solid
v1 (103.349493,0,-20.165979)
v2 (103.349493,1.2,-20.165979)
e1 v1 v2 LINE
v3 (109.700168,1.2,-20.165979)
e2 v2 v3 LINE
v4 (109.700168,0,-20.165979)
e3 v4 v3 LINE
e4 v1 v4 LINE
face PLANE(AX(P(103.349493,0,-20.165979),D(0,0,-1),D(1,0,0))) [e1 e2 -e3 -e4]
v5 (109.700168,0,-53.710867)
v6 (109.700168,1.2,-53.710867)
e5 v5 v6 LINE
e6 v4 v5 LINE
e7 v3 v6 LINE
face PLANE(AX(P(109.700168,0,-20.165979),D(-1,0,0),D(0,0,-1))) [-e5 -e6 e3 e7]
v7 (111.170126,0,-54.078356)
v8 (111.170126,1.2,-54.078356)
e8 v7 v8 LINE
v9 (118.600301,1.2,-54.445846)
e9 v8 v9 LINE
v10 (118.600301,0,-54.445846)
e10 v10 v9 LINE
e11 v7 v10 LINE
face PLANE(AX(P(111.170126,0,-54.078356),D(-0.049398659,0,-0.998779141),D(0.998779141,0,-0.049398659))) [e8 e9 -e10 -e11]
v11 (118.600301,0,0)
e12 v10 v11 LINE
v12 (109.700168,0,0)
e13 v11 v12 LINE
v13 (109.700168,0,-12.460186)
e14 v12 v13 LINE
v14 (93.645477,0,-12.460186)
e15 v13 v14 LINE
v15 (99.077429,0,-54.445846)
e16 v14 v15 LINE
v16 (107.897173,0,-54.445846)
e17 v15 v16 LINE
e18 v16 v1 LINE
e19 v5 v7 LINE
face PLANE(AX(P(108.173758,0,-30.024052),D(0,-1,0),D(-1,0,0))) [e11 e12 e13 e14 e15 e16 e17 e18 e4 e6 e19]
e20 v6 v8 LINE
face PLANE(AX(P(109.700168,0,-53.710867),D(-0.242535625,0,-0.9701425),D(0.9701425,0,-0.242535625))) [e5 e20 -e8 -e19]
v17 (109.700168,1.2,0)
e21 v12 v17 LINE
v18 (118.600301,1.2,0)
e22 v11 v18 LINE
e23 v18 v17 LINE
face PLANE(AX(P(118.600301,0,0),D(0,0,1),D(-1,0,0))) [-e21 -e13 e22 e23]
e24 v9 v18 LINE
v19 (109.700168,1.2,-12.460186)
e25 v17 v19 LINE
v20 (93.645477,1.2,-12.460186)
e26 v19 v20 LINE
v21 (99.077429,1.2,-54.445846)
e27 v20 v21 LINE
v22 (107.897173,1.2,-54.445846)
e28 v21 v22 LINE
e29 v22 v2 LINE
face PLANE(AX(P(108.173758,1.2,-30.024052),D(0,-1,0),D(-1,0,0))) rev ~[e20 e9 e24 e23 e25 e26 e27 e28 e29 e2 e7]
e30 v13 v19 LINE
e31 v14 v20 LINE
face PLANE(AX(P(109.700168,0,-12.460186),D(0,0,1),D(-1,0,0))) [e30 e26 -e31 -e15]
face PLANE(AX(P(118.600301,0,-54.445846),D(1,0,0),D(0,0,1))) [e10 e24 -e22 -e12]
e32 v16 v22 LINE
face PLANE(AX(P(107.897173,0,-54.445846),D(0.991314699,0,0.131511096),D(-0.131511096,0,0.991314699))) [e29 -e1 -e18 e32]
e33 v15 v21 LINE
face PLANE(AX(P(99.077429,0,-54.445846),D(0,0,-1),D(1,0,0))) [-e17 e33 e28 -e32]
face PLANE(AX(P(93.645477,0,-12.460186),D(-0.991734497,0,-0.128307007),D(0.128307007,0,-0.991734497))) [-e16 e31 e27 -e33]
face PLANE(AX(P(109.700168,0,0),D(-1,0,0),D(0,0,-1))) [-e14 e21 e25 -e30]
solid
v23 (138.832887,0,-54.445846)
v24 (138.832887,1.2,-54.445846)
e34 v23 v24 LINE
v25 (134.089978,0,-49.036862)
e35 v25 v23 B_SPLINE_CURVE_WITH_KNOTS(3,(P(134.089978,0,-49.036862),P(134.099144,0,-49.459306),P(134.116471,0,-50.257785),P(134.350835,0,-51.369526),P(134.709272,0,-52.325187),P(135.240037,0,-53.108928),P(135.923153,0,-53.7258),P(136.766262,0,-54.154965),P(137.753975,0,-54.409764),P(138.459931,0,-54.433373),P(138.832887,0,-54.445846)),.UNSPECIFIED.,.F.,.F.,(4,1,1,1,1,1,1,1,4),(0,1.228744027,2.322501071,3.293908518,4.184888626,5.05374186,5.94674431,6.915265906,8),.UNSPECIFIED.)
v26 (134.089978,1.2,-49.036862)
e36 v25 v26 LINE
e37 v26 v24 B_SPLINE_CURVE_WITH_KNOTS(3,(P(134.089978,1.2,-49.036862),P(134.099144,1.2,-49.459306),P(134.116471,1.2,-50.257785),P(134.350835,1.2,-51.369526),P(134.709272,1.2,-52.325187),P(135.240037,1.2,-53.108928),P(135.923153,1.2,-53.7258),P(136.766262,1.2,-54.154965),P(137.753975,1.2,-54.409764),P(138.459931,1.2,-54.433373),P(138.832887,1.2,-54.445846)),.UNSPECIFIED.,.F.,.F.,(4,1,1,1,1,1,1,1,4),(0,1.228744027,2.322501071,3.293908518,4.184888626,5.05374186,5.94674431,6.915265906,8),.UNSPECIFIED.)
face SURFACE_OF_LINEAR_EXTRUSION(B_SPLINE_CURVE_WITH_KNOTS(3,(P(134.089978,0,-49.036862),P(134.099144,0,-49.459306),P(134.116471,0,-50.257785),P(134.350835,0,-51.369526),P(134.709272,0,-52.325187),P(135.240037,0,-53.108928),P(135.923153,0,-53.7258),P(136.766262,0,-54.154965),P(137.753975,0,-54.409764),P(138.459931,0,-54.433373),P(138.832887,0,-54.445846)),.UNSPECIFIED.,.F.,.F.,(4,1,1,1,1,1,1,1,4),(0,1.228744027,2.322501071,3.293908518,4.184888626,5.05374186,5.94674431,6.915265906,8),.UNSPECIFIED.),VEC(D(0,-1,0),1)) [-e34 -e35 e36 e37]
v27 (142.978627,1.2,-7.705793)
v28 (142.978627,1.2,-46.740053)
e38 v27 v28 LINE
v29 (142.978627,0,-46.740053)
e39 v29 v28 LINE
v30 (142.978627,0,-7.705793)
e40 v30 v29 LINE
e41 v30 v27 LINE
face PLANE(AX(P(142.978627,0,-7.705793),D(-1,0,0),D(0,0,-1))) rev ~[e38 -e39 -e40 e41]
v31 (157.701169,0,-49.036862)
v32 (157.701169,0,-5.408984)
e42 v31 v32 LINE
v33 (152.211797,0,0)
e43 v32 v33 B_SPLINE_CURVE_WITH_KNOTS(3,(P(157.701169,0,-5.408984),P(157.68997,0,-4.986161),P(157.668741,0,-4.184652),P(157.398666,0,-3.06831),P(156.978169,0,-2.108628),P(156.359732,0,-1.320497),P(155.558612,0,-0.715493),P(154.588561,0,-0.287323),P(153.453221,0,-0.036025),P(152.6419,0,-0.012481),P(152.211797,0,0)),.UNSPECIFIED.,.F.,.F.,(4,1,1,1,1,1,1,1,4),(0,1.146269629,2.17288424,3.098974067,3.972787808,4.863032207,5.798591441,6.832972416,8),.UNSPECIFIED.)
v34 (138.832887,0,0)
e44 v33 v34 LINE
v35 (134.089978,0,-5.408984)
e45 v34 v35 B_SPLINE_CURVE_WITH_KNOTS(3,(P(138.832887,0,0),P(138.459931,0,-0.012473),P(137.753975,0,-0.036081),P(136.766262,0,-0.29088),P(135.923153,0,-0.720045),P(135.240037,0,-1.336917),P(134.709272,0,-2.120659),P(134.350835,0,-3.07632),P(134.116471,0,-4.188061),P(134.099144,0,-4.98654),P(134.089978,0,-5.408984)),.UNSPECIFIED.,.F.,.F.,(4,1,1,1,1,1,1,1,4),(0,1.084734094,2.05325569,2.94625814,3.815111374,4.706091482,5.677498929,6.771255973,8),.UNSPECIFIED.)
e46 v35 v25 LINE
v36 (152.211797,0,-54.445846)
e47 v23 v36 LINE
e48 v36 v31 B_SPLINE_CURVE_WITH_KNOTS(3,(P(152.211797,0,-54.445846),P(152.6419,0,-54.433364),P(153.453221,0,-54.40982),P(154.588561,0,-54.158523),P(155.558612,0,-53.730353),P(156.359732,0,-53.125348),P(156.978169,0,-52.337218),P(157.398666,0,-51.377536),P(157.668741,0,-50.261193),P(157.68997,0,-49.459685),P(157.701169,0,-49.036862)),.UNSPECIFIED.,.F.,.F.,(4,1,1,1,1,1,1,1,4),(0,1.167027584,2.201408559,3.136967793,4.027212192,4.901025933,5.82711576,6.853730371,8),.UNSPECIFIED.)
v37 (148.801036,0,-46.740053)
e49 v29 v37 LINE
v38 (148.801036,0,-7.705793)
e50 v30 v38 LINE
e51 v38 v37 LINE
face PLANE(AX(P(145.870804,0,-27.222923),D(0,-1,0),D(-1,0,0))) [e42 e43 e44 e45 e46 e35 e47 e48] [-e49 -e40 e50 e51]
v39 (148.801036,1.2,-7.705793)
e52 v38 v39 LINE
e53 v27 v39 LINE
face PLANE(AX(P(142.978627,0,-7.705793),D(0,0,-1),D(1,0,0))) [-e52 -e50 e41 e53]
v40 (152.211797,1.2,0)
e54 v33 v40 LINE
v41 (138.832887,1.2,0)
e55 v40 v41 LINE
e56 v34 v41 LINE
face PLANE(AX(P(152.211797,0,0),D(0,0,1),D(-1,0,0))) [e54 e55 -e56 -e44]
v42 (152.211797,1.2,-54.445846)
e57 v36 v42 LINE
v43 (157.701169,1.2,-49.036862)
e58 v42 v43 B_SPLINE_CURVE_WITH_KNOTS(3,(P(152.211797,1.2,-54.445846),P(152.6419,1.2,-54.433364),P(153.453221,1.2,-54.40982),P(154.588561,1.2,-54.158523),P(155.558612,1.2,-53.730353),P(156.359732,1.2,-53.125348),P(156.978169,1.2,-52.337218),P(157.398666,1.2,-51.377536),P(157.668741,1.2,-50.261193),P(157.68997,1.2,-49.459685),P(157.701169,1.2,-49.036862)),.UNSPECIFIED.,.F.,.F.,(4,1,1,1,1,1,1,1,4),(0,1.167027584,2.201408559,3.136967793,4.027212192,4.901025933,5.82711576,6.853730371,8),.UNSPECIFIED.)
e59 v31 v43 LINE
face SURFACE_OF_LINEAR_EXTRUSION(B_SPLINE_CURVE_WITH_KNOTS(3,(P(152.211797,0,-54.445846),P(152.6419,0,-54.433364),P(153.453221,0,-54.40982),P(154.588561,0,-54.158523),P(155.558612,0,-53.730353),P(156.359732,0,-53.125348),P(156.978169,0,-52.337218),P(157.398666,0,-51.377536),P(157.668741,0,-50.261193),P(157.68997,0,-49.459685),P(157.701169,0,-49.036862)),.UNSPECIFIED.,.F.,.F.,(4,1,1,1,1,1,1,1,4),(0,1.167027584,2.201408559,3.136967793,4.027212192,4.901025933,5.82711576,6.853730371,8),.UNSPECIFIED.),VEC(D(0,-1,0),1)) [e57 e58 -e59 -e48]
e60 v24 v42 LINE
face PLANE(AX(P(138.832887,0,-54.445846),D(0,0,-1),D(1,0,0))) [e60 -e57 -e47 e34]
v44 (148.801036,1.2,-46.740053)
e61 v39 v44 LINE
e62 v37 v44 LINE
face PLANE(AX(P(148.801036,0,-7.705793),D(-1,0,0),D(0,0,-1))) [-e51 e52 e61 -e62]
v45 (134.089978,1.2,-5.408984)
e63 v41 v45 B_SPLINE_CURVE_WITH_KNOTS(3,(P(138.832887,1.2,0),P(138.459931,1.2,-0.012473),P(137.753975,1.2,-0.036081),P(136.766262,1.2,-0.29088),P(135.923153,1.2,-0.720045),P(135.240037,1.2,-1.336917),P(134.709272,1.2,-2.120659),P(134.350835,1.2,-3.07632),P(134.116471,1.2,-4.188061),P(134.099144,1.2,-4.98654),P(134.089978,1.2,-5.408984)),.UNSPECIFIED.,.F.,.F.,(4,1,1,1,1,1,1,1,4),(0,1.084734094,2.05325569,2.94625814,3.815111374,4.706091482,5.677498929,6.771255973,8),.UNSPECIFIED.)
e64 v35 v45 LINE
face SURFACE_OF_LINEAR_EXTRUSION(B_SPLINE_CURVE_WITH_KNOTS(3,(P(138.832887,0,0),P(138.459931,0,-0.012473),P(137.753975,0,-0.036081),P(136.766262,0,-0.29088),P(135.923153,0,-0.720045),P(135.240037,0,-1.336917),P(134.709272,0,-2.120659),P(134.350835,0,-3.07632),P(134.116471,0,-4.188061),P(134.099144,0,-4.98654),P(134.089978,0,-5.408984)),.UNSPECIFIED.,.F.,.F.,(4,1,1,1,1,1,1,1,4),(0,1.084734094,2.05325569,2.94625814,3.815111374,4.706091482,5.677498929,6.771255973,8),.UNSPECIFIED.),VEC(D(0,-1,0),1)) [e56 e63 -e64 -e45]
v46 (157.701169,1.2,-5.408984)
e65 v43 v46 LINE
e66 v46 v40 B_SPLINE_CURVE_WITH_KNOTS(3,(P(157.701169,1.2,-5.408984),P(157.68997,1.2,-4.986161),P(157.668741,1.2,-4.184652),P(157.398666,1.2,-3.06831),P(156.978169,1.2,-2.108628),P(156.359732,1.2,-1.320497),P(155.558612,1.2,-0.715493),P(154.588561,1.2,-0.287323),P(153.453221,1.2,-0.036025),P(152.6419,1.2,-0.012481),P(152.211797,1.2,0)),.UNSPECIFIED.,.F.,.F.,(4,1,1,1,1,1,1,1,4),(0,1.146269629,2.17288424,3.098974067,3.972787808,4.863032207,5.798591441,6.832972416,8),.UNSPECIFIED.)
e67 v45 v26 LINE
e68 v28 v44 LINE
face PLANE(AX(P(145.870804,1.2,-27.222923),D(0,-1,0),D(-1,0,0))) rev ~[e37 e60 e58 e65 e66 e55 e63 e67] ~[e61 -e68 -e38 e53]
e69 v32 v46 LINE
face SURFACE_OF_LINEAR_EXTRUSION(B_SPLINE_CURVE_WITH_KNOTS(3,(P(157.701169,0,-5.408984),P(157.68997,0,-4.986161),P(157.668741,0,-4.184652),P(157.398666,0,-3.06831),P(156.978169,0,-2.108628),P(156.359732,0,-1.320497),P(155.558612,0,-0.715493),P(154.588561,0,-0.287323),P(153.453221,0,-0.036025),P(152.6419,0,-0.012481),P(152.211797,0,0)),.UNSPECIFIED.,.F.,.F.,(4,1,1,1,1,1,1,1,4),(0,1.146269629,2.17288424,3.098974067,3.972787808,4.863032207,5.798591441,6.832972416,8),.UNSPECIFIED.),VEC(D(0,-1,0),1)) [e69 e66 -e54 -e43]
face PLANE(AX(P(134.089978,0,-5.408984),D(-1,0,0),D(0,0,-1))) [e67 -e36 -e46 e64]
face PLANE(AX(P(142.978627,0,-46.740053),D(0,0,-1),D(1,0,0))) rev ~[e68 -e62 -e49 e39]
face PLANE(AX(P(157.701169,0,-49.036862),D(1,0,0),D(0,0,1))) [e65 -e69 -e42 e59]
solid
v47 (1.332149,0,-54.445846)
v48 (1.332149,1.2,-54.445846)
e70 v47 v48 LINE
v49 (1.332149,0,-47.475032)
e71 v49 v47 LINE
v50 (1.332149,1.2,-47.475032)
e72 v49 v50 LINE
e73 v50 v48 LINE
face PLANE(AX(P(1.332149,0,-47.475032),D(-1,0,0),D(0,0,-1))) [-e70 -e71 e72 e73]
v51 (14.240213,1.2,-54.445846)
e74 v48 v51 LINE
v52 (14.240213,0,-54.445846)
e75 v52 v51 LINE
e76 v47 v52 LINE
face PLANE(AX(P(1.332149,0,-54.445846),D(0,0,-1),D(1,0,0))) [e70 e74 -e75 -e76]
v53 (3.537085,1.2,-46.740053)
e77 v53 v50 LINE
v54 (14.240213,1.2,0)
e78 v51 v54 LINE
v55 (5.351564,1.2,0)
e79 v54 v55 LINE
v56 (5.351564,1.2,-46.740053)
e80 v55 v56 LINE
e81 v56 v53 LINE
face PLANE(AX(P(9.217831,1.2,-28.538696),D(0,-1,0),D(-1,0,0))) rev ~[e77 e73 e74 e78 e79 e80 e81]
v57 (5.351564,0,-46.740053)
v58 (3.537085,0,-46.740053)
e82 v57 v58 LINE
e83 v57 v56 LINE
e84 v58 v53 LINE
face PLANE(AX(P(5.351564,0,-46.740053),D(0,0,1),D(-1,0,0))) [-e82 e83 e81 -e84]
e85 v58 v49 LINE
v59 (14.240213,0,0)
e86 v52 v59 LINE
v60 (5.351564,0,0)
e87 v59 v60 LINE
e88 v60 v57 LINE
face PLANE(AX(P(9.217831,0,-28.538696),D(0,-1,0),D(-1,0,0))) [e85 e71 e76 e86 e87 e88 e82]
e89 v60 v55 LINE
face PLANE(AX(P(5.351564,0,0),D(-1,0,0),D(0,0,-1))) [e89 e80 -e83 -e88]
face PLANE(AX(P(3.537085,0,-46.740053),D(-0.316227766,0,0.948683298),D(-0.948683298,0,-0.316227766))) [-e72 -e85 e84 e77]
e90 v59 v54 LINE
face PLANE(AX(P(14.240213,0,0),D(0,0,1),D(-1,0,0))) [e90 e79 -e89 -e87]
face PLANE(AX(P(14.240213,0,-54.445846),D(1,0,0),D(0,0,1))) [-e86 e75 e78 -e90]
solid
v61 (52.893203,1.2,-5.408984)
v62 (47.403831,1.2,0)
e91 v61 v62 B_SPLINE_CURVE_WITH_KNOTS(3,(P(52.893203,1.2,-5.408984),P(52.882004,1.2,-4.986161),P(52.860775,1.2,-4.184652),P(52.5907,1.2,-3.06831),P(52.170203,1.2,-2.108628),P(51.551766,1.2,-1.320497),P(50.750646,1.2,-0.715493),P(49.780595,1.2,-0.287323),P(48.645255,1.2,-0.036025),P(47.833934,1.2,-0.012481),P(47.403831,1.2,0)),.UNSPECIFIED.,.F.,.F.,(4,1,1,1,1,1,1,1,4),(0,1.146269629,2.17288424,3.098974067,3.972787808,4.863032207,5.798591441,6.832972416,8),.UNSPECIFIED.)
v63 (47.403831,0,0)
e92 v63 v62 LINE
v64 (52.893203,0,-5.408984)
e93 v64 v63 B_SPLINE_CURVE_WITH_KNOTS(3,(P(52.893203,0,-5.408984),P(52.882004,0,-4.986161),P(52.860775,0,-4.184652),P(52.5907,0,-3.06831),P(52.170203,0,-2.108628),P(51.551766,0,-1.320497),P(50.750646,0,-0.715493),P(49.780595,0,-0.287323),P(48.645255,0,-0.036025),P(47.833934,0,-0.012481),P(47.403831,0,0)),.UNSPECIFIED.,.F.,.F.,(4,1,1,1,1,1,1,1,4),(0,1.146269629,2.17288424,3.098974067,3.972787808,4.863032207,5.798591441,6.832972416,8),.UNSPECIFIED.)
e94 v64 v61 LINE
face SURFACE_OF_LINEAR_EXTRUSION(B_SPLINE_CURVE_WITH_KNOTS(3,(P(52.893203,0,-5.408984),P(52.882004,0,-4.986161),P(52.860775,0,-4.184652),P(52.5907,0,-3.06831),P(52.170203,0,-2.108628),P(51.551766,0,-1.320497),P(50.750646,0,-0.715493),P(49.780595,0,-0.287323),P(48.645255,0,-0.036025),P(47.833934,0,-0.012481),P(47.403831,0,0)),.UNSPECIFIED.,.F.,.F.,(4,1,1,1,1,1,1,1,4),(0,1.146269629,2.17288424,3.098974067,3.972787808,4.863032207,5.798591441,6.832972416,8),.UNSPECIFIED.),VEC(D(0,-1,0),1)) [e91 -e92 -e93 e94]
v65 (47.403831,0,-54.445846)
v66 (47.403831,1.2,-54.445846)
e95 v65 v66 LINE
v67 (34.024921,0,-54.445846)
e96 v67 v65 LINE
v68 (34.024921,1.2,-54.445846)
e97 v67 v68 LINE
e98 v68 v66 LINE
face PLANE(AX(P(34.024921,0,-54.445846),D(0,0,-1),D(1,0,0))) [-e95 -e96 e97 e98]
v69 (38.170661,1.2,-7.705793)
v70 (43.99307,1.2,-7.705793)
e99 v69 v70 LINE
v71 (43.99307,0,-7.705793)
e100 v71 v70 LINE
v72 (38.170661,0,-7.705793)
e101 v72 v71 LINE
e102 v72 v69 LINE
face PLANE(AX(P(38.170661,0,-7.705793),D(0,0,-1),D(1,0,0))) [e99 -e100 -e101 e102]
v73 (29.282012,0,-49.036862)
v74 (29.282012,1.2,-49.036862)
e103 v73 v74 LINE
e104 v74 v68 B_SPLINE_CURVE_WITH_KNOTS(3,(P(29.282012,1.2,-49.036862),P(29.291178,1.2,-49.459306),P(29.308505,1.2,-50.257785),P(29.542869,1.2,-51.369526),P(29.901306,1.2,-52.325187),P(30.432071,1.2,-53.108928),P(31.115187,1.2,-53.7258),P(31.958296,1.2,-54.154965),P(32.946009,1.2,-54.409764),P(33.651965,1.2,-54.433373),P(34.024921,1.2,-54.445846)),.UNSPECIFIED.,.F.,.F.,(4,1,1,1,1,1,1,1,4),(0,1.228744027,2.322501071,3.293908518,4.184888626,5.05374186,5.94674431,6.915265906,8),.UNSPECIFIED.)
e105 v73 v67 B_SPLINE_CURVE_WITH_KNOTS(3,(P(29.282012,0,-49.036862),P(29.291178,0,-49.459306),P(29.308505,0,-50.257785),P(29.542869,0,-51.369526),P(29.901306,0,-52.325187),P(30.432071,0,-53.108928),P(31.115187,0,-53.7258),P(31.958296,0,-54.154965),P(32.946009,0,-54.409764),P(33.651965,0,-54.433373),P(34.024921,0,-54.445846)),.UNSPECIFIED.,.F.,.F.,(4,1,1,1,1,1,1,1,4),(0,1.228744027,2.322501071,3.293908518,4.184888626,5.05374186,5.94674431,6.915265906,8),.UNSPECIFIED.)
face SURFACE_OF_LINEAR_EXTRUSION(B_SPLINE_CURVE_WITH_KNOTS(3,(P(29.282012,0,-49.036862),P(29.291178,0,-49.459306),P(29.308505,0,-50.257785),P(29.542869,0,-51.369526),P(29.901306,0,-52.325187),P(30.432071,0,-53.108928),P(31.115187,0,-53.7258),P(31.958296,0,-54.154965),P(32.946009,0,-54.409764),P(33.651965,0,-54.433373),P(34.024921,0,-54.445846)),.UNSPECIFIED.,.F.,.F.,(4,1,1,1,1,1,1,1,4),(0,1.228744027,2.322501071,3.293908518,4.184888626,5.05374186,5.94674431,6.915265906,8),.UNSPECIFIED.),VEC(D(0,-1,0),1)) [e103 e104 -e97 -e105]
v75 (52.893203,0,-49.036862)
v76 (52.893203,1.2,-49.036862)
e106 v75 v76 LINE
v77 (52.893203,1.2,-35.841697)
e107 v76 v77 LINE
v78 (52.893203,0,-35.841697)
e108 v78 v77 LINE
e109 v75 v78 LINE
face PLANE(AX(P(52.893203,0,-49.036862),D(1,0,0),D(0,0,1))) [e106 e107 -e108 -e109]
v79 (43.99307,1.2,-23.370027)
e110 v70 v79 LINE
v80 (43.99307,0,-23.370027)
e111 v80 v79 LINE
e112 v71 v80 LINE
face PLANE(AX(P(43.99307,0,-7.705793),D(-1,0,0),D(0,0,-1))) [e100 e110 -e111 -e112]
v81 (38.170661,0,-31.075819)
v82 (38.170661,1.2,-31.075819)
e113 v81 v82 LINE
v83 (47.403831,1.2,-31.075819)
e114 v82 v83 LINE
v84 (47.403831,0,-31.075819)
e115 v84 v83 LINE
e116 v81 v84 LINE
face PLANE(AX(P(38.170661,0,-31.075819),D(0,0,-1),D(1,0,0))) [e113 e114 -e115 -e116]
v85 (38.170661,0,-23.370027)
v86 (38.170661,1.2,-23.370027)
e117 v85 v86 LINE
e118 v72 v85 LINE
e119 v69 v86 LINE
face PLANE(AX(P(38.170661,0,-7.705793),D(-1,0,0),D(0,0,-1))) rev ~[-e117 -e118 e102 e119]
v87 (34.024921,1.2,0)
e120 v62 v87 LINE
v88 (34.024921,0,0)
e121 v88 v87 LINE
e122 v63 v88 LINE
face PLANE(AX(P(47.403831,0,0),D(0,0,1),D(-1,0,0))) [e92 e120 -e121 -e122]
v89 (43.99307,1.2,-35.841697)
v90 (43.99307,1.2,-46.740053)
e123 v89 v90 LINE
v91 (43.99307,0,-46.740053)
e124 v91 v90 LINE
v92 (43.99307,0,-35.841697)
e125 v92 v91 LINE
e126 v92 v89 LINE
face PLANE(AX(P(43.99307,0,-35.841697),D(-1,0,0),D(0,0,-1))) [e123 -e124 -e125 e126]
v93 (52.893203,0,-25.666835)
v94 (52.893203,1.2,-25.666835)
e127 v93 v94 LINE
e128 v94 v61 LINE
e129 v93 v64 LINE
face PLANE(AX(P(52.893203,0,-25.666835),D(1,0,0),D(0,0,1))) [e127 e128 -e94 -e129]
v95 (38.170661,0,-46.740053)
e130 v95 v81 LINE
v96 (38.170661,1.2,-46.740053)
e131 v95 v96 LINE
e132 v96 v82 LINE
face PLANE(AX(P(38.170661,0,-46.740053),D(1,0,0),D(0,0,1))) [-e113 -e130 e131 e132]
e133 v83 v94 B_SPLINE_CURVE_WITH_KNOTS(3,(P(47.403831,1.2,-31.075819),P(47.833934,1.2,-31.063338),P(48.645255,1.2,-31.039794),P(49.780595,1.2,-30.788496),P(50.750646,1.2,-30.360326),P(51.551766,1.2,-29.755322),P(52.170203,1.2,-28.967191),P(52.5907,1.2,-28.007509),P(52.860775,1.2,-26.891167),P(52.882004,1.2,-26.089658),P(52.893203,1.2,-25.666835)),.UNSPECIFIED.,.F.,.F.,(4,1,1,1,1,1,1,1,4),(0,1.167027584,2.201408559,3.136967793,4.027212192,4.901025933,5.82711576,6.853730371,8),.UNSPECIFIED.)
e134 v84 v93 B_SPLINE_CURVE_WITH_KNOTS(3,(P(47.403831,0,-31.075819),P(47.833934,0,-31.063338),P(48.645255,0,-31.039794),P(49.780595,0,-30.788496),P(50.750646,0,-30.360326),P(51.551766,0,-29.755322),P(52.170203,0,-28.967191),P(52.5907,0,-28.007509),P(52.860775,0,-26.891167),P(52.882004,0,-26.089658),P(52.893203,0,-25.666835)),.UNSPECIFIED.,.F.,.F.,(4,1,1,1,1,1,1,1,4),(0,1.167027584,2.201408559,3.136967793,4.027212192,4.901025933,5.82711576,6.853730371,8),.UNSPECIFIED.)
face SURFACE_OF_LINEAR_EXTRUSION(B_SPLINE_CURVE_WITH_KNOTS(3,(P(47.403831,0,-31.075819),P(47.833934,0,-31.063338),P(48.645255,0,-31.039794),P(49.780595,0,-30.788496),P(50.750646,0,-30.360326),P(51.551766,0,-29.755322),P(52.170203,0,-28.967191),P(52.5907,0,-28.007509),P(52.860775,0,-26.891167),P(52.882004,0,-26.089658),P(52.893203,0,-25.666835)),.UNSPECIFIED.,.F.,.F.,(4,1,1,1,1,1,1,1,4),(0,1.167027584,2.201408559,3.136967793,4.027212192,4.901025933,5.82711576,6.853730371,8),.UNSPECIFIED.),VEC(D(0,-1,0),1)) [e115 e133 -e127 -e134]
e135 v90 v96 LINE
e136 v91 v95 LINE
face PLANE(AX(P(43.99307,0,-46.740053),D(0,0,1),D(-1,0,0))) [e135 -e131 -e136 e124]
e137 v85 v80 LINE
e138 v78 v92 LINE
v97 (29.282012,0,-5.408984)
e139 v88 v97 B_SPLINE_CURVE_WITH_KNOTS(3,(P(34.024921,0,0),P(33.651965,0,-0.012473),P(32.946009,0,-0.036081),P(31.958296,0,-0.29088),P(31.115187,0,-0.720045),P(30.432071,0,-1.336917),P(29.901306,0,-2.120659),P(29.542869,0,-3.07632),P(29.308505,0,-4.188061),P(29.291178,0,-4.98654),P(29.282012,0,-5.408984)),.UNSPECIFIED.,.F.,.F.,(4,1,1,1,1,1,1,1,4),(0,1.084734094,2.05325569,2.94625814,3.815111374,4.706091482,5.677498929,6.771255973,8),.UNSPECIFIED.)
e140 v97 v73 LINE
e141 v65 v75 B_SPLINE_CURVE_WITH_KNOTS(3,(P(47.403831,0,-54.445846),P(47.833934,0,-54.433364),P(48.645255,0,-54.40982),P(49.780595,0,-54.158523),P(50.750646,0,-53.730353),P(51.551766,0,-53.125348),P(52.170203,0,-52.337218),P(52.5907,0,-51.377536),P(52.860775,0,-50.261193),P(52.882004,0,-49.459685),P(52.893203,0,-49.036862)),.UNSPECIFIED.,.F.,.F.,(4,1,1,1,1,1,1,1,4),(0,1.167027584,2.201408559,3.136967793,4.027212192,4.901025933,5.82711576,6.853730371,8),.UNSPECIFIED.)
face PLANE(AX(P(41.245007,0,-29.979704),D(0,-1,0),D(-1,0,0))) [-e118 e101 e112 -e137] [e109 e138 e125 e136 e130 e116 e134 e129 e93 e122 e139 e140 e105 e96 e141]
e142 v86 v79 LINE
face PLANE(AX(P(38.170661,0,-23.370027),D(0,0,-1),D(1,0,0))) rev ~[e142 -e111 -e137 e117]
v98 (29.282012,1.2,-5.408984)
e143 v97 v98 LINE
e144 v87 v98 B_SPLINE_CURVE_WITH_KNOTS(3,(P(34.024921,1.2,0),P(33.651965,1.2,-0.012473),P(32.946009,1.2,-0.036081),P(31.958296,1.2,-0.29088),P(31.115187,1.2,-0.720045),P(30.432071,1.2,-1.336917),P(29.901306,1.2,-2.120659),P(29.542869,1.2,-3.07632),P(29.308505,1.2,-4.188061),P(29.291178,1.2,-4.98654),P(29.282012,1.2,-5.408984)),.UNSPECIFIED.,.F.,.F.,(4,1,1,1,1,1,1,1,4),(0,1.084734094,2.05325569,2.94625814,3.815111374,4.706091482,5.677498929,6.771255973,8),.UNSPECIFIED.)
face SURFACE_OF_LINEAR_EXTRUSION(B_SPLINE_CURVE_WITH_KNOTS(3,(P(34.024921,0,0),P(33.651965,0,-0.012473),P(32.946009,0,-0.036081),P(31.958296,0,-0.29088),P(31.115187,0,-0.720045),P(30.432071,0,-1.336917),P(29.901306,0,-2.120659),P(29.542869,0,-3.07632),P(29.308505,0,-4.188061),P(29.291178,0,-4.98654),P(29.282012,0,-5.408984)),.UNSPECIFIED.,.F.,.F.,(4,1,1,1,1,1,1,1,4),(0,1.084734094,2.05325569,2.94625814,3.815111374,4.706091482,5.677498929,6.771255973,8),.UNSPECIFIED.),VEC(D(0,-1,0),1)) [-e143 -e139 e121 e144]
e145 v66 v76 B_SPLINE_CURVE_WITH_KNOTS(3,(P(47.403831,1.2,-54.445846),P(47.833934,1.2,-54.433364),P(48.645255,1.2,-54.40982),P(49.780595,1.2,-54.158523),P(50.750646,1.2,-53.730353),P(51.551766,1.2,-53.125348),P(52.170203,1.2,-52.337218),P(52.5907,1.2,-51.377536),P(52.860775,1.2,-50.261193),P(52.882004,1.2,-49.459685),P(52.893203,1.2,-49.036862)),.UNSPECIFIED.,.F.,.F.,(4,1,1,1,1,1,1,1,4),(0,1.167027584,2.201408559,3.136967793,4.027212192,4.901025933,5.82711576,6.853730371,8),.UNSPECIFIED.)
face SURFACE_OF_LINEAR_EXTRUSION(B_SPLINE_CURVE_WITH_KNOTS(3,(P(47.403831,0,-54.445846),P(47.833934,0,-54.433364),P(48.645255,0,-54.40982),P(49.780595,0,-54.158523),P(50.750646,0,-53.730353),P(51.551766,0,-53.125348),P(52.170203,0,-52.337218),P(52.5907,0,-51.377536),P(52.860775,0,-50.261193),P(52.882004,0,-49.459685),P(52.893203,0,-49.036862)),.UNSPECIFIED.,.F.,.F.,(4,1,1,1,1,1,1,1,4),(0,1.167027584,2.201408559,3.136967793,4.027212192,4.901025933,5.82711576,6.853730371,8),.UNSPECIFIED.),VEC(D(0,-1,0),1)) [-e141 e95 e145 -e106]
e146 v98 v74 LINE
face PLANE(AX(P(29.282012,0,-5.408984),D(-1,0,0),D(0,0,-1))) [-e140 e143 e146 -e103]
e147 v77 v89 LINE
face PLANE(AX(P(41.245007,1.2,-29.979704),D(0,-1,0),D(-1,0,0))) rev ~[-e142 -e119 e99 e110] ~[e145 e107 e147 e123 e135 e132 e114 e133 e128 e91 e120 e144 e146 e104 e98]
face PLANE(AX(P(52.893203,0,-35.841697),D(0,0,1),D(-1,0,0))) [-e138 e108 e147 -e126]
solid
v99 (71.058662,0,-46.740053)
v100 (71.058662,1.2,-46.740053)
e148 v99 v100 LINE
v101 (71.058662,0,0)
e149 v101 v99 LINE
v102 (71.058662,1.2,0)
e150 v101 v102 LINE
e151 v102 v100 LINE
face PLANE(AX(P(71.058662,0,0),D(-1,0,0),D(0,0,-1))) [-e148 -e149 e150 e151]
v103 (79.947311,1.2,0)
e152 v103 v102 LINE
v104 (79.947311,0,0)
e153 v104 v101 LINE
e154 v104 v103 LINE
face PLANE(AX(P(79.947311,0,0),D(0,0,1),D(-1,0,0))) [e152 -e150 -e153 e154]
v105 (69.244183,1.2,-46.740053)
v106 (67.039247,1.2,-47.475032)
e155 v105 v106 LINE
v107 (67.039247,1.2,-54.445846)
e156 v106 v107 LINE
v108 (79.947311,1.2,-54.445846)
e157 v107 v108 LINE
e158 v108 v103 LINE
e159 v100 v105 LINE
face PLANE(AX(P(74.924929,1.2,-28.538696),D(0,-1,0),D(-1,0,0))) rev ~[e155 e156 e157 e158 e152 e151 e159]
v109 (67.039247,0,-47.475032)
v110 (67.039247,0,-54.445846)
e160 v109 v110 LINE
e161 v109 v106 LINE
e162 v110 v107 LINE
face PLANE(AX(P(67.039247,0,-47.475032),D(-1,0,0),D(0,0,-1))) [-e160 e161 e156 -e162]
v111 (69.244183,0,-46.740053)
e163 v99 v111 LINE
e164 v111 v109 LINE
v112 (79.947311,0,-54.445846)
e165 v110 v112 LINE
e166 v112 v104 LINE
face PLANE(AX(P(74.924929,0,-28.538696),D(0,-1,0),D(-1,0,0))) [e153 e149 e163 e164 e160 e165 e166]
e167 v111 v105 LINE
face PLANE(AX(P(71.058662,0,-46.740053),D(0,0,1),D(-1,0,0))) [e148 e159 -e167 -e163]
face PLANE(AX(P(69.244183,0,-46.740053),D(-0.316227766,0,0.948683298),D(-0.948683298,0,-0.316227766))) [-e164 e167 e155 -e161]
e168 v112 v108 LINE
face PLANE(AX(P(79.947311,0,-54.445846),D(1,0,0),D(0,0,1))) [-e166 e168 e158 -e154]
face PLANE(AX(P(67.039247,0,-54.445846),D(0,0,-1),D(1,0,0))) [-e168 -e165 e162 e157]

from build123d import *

# Parameters (mm, degrees)
BOSS_EXTRUDE1_DEPTH   = 1.2
SKETCH1_W             = 5.822409575
SKETCH1_H             = 15.664234043
BOSS_EXTRUDE1_2_DEPTH = 1.2
BOSS_EXTRUDE1_3_DEPTH = 1.2
BOSS_EXTRUDE1_4_DEPTH = 1.2
SKETCH1_W_2           = 5.822409574
SKETCH1_H_2           = 39.034260638
BOSS_EXTRUDE1_5_DEPTH = 1.2


with BuildPart() as part:
    # Sketch1 → Boss-Extrude1 (new body)
    with BuildSketch(Plane(origin=(0, 0, 0), x_dir=(1, 0, 0), z_dir=(0, 1, 0))):
        Polygon((1.332148936, 47.475031915), (1.332148936, 54.445845745), (14.240212766, 54.445845745), (14.240212766, 0), (5.35156383, 0), (5.35156383, 46.740053191), (3.537085106, 46.740053191), align=None)
    extrude(amount=BOSS_EXTRUDE1_DEPTH)


with BuildPart() as body_2:
    # Sketch1 → Boss-Extrude1 2 (new body)
    with BuildSketch(Plane(origin=(0, 0, 0), x_dir=(1, 0, 0), z_dir=(0, 1, 0))):
        with BuildLine():
            Line((43.993070213, 35.841696809), (43.993070213, 46.740053191))
            Line((43.993070213, 46.740053191), (38.170660638, 46.740053191))
            Line((38.170660638, 46.740053191), (38.170660638, 31.075819149))
            Line((38.170660638, 31.075819149), (47.403830851, 31.075819149))
            add(Edge.make_bspline(
                [(47.403830851, 31.075819149), (47.833934363, 31.063337821), (48.645254992, 31.039793818), (49.780594728, 30.788496049), (50.75064648, 30.360326032), (51.551765813, 29.755321844), (52.170203012, 28.967190952), (52.59070034, 28.007509348), (52.860775148, 26.891166669), (52.882004168, 26.089657952), (52.893203191, 25.666835106)],
                knots=[0, 0, 0, 0, 1.167027584, 2.201408559, 3.136967793, 4.027212192, 4.901025933, 5.82711576, 6.853730371, 8, 8, 8, 8], degree=3))
            Line((52.893203191, 25.666835106), (52.893203191, 5.408984043))
            add(Edge.make_bspline(
                [(52.893203191, 5.408984043), (52.882004168, 4.986161196), (52.860775148, 4.18465248), (52.59070034, 3.068309801), (52.170203012, 2.108628197), (51.551765813, 1.320497305), (50.75064648, 0.715493117), (49.780594728, 0.2873231), (48.645254992, 0.036025331), (47.833934363, 0.012481328), (47.403830851, 0)],
                knots=[0, 0, 0, 0, 1.146269629, 2.17288424, 3.098974067, 3.972787808, 4.863032207, 5.798591441, 6.832972416, 8, 8, 8, 8], degree=3))
            Line((47.403830851, 0), (34.024921277, 0))
            add(Edge.make_bspline(
                [(34.024921277, 0), (33.651965003, 0.012472554), (32.946008959, 0.03608142), (31.958296205, 0.290880296), (31.115187051, 0.720045297), (30.43207145, 1.336917405), (29.901306339, 2.120659222), (29.542869308, 3.076320201), (29.308504938, 4.188060803), (29.29117846, 4.986540056), (29.282011702, 5.408984043)],
                knots=[0, 0, 0, 0, 1.084734094, 2.05325569, 2.94625814, 3.815111374, 4.706091482, 5.677498929, 6.771255973, 8, 8, 8, 8], degree=3))
            Line((29.282011702, 5.408984043), (29.282011702, 49.036861702))
            add(Edge.make_bspline(
                [(29.282011702, 49.036861702), (29.29117846, 49.459305689), (29.308504938, 50.257784941), (29.542869308, 51.369525544), (29.901306339, 52.325186523), (30.43207145, 53.108928339), (31.115187051, 53.725800448), (31.958296205, 54.154965449), (32.946008959, 54.409764325), (33.651965003, 54.433373191), (34.024921277, 54.445845745)],
                knots=[0, 0, 0, 0, 1.228744027, 2.322501071, 3.293908518, 4.184888626, 5.05374186, 5.94674431, 6.915265906, 8, 8, 8, 8], degree=3))
            Line((34.024921277, 54.445845745), (47.403830851, 54.445845745))
            add(Edge.make_bspline(
                [(47.403830851, 54.445845745), (47.833934363, 54.433364417), (48.645254992, 54.409820413), (49.780594728, 54.158522645), (50.75064648, 53.730352627), (51.551765813, 53.12534844), (52.170203012, 52.337217547), (52.59070034, 51.377535943), (52.860775148, 50.261193265), (52.882004168, 49.459684548), (52.893203191, 49.036861702)],
                knots=[0, 0, 0, 0, 1.167027584, 2.201408559, 3.136967793, 4.027212192, 4.901025933, 5.82711576, 6.853730371, 8, 8, 8, 8], degree=3))
            Line((52.893203191, 49.036861702), (52.893203191, 35.841696809))
            Line((52.893203191, 35.841696809), (43.993070213, 35.841696809))
        make_face()
        with Locations((41.081865425, 15.537909575)):
            Rectangle(SKETCH1_W, SKETCH1_H, mode=Mode.SUBTRACT)
    extrude(amount=BOSS_EXTRUDE1_2_DEPTH)


with BuildPart() as body_3:
    # Sketch1 → Boss-Extrude1 3 (new body)
    with BuildSketch(Plane(origin=(0, 0, 0), x_dir=(1, 0, 0), z_dir=(0, 1, 0))):
        Polygon((67.039246809, 47.475031915), (67.039246809, 54.445845745), (79.947310638, 54.445845745), (79.947310638, 0), (71.058661702, 0), (71.058661702, 46.740053191), (69.244182979, 46.740053191), align=None)
    extrude(amount=BOSS_EXTRUDE1_3_DEPTH)


with BuildPart() as body_4:
    # Sketch1 → Boss-Extrude1 4 (new body)
    with BuildSketch(Plane(origin=(0, 0, 0), x_dir=(1, 0, 0), z_dir=(0, 1, 0))):
        Polygon((111.170125532, 54.078356383), (118.600301064, 54.445845745), (118.600301064, 0), (109.700168085, 0), (109.700168085, 12.46018617), (93.645476596, 12.46018617), (99.077428723, 54.445845745), (107.897173404, 54.445845745), (103.349492553, 20.165978723), (109.700168085, 20.165978723), (109.700168085, 53.710867021), align=None)
    extrude(amount=BOSS_EXTRUDE1_4_DEPTH)


with BuildPart() as body_5:
    # Sketch1 → Boss-Extrude1 5 (new body)
    with BuildSketch(Plane(origin=(0, 0, 0), x_dir=(1, 0, 0), z_dir=(0, 1, 0))):
        with BuildLine():
            add(Edge.make_bspline(
                [(152.211796809, 54.445845745), (152.641900321, 54.433364417), (153.45322095, 54.409820413), (154.588560686, 54.158522645), (155.558612438, 53.730352627), (156.35973177, 53.12534844), (156.97816897, 52.337217547), (157.398666297, 51.377535943), (157.668741105, 50.261193265), (157.689970126, 49.459684548), (157.701169149, 49.036861702)],
                knots=[0, 0, 0, 0, 1.167027584, 2.201408559, 3.136967793, 4.027212192, 4.901025933, 5.82711576, 6.853730371, 8, 8, 8, 8], degree=3))
            Line((157.701169149, 49.036861702), (157.701169149, 5.408984043))
            add(Edge.make_bspline(
                [(157.701169149, 5.408984043), (157.689970126, 4.986161196), (157.668741105, 4.18465248), (157.398666297, 3.068309801), (156.97816897, 2.108628197), (156.35973177, 1.320497305), (155.558612438, 0.715493117), (154.588560686, 0.2873231), (153.45322095, 0.036025331), (152.641900321, 0.012481328), (152.211796809, 0)],
                knots=[0, 0, 0, 0, 1.146269629, 2.17288424, 3.098974067, 3.972787808, 4.863032207, 5.798591441, 6.832972416, 8, 8, 8, 8], degree=3))
            Line((152.211796809, 0), (138.832887234, 0))
            add(Edge.make_bspline(
                [(138.832887234, 0), (138.459930961, 0.012472554), (137.753974916, 0.03608142), (136.766262162, 0.290880296), (135.923153009, 0.720045297), (135.240037407, 1.336917405), (134.709272296, 2.120659222), (134.350835266, 3.076320201), (134.116470895, 4.188060803), (134.099144418, 4.986540056), (134.08997766, 5.408984043)],
                knots=[0, 0, 0, 0, 1.084734094, 2.05325569, 2.94625814, 3.815111374, 4.706091482, 5.677498929, 6.771255973, 8, 8, 8, 8], degree=3))
            Line((134.08997766, 5.408984043), (134.08997766, 49.036861702))
            add(Edge.make_bspline(
                [(134.08997766, 49.036861702), (134.099144418, 49.459305689), (134.116470895, 50.257784941), (134.350835266, 51.369525544), (134.709272296, 52.325186523), (135.240037407, 53.108928339), (135.923153009, 53.725800448), (136.766262162, 54.154965449), (137.753974916, 54.409764325), (138.459930961, 54.433373191), (138.832887234, 54.445845745)],
                knots=[0, 0, 0, 0, 1.228744027, 2.322501071, 3.293908518, 4.184888626, 5.05374186, 5.94674431, 6.915265906, 8, 8, 8, 8], degree=3))
            Line((138.832887234, 54.445845745), (152.211796809, 54.445845745))
        make_face()
        with Locations((145.889831383, 27.222922872)):
            Rectangle(SKETCH1_W_2, SKETCH1_H_2, mode=Mode.SUBTRACT)
    extrude(amount=BOSS_EXTRUDE1_5_DEPTH)


solid = Compound([part.part, body_2.part, body_3.part, body_4.part, body_5.part])
